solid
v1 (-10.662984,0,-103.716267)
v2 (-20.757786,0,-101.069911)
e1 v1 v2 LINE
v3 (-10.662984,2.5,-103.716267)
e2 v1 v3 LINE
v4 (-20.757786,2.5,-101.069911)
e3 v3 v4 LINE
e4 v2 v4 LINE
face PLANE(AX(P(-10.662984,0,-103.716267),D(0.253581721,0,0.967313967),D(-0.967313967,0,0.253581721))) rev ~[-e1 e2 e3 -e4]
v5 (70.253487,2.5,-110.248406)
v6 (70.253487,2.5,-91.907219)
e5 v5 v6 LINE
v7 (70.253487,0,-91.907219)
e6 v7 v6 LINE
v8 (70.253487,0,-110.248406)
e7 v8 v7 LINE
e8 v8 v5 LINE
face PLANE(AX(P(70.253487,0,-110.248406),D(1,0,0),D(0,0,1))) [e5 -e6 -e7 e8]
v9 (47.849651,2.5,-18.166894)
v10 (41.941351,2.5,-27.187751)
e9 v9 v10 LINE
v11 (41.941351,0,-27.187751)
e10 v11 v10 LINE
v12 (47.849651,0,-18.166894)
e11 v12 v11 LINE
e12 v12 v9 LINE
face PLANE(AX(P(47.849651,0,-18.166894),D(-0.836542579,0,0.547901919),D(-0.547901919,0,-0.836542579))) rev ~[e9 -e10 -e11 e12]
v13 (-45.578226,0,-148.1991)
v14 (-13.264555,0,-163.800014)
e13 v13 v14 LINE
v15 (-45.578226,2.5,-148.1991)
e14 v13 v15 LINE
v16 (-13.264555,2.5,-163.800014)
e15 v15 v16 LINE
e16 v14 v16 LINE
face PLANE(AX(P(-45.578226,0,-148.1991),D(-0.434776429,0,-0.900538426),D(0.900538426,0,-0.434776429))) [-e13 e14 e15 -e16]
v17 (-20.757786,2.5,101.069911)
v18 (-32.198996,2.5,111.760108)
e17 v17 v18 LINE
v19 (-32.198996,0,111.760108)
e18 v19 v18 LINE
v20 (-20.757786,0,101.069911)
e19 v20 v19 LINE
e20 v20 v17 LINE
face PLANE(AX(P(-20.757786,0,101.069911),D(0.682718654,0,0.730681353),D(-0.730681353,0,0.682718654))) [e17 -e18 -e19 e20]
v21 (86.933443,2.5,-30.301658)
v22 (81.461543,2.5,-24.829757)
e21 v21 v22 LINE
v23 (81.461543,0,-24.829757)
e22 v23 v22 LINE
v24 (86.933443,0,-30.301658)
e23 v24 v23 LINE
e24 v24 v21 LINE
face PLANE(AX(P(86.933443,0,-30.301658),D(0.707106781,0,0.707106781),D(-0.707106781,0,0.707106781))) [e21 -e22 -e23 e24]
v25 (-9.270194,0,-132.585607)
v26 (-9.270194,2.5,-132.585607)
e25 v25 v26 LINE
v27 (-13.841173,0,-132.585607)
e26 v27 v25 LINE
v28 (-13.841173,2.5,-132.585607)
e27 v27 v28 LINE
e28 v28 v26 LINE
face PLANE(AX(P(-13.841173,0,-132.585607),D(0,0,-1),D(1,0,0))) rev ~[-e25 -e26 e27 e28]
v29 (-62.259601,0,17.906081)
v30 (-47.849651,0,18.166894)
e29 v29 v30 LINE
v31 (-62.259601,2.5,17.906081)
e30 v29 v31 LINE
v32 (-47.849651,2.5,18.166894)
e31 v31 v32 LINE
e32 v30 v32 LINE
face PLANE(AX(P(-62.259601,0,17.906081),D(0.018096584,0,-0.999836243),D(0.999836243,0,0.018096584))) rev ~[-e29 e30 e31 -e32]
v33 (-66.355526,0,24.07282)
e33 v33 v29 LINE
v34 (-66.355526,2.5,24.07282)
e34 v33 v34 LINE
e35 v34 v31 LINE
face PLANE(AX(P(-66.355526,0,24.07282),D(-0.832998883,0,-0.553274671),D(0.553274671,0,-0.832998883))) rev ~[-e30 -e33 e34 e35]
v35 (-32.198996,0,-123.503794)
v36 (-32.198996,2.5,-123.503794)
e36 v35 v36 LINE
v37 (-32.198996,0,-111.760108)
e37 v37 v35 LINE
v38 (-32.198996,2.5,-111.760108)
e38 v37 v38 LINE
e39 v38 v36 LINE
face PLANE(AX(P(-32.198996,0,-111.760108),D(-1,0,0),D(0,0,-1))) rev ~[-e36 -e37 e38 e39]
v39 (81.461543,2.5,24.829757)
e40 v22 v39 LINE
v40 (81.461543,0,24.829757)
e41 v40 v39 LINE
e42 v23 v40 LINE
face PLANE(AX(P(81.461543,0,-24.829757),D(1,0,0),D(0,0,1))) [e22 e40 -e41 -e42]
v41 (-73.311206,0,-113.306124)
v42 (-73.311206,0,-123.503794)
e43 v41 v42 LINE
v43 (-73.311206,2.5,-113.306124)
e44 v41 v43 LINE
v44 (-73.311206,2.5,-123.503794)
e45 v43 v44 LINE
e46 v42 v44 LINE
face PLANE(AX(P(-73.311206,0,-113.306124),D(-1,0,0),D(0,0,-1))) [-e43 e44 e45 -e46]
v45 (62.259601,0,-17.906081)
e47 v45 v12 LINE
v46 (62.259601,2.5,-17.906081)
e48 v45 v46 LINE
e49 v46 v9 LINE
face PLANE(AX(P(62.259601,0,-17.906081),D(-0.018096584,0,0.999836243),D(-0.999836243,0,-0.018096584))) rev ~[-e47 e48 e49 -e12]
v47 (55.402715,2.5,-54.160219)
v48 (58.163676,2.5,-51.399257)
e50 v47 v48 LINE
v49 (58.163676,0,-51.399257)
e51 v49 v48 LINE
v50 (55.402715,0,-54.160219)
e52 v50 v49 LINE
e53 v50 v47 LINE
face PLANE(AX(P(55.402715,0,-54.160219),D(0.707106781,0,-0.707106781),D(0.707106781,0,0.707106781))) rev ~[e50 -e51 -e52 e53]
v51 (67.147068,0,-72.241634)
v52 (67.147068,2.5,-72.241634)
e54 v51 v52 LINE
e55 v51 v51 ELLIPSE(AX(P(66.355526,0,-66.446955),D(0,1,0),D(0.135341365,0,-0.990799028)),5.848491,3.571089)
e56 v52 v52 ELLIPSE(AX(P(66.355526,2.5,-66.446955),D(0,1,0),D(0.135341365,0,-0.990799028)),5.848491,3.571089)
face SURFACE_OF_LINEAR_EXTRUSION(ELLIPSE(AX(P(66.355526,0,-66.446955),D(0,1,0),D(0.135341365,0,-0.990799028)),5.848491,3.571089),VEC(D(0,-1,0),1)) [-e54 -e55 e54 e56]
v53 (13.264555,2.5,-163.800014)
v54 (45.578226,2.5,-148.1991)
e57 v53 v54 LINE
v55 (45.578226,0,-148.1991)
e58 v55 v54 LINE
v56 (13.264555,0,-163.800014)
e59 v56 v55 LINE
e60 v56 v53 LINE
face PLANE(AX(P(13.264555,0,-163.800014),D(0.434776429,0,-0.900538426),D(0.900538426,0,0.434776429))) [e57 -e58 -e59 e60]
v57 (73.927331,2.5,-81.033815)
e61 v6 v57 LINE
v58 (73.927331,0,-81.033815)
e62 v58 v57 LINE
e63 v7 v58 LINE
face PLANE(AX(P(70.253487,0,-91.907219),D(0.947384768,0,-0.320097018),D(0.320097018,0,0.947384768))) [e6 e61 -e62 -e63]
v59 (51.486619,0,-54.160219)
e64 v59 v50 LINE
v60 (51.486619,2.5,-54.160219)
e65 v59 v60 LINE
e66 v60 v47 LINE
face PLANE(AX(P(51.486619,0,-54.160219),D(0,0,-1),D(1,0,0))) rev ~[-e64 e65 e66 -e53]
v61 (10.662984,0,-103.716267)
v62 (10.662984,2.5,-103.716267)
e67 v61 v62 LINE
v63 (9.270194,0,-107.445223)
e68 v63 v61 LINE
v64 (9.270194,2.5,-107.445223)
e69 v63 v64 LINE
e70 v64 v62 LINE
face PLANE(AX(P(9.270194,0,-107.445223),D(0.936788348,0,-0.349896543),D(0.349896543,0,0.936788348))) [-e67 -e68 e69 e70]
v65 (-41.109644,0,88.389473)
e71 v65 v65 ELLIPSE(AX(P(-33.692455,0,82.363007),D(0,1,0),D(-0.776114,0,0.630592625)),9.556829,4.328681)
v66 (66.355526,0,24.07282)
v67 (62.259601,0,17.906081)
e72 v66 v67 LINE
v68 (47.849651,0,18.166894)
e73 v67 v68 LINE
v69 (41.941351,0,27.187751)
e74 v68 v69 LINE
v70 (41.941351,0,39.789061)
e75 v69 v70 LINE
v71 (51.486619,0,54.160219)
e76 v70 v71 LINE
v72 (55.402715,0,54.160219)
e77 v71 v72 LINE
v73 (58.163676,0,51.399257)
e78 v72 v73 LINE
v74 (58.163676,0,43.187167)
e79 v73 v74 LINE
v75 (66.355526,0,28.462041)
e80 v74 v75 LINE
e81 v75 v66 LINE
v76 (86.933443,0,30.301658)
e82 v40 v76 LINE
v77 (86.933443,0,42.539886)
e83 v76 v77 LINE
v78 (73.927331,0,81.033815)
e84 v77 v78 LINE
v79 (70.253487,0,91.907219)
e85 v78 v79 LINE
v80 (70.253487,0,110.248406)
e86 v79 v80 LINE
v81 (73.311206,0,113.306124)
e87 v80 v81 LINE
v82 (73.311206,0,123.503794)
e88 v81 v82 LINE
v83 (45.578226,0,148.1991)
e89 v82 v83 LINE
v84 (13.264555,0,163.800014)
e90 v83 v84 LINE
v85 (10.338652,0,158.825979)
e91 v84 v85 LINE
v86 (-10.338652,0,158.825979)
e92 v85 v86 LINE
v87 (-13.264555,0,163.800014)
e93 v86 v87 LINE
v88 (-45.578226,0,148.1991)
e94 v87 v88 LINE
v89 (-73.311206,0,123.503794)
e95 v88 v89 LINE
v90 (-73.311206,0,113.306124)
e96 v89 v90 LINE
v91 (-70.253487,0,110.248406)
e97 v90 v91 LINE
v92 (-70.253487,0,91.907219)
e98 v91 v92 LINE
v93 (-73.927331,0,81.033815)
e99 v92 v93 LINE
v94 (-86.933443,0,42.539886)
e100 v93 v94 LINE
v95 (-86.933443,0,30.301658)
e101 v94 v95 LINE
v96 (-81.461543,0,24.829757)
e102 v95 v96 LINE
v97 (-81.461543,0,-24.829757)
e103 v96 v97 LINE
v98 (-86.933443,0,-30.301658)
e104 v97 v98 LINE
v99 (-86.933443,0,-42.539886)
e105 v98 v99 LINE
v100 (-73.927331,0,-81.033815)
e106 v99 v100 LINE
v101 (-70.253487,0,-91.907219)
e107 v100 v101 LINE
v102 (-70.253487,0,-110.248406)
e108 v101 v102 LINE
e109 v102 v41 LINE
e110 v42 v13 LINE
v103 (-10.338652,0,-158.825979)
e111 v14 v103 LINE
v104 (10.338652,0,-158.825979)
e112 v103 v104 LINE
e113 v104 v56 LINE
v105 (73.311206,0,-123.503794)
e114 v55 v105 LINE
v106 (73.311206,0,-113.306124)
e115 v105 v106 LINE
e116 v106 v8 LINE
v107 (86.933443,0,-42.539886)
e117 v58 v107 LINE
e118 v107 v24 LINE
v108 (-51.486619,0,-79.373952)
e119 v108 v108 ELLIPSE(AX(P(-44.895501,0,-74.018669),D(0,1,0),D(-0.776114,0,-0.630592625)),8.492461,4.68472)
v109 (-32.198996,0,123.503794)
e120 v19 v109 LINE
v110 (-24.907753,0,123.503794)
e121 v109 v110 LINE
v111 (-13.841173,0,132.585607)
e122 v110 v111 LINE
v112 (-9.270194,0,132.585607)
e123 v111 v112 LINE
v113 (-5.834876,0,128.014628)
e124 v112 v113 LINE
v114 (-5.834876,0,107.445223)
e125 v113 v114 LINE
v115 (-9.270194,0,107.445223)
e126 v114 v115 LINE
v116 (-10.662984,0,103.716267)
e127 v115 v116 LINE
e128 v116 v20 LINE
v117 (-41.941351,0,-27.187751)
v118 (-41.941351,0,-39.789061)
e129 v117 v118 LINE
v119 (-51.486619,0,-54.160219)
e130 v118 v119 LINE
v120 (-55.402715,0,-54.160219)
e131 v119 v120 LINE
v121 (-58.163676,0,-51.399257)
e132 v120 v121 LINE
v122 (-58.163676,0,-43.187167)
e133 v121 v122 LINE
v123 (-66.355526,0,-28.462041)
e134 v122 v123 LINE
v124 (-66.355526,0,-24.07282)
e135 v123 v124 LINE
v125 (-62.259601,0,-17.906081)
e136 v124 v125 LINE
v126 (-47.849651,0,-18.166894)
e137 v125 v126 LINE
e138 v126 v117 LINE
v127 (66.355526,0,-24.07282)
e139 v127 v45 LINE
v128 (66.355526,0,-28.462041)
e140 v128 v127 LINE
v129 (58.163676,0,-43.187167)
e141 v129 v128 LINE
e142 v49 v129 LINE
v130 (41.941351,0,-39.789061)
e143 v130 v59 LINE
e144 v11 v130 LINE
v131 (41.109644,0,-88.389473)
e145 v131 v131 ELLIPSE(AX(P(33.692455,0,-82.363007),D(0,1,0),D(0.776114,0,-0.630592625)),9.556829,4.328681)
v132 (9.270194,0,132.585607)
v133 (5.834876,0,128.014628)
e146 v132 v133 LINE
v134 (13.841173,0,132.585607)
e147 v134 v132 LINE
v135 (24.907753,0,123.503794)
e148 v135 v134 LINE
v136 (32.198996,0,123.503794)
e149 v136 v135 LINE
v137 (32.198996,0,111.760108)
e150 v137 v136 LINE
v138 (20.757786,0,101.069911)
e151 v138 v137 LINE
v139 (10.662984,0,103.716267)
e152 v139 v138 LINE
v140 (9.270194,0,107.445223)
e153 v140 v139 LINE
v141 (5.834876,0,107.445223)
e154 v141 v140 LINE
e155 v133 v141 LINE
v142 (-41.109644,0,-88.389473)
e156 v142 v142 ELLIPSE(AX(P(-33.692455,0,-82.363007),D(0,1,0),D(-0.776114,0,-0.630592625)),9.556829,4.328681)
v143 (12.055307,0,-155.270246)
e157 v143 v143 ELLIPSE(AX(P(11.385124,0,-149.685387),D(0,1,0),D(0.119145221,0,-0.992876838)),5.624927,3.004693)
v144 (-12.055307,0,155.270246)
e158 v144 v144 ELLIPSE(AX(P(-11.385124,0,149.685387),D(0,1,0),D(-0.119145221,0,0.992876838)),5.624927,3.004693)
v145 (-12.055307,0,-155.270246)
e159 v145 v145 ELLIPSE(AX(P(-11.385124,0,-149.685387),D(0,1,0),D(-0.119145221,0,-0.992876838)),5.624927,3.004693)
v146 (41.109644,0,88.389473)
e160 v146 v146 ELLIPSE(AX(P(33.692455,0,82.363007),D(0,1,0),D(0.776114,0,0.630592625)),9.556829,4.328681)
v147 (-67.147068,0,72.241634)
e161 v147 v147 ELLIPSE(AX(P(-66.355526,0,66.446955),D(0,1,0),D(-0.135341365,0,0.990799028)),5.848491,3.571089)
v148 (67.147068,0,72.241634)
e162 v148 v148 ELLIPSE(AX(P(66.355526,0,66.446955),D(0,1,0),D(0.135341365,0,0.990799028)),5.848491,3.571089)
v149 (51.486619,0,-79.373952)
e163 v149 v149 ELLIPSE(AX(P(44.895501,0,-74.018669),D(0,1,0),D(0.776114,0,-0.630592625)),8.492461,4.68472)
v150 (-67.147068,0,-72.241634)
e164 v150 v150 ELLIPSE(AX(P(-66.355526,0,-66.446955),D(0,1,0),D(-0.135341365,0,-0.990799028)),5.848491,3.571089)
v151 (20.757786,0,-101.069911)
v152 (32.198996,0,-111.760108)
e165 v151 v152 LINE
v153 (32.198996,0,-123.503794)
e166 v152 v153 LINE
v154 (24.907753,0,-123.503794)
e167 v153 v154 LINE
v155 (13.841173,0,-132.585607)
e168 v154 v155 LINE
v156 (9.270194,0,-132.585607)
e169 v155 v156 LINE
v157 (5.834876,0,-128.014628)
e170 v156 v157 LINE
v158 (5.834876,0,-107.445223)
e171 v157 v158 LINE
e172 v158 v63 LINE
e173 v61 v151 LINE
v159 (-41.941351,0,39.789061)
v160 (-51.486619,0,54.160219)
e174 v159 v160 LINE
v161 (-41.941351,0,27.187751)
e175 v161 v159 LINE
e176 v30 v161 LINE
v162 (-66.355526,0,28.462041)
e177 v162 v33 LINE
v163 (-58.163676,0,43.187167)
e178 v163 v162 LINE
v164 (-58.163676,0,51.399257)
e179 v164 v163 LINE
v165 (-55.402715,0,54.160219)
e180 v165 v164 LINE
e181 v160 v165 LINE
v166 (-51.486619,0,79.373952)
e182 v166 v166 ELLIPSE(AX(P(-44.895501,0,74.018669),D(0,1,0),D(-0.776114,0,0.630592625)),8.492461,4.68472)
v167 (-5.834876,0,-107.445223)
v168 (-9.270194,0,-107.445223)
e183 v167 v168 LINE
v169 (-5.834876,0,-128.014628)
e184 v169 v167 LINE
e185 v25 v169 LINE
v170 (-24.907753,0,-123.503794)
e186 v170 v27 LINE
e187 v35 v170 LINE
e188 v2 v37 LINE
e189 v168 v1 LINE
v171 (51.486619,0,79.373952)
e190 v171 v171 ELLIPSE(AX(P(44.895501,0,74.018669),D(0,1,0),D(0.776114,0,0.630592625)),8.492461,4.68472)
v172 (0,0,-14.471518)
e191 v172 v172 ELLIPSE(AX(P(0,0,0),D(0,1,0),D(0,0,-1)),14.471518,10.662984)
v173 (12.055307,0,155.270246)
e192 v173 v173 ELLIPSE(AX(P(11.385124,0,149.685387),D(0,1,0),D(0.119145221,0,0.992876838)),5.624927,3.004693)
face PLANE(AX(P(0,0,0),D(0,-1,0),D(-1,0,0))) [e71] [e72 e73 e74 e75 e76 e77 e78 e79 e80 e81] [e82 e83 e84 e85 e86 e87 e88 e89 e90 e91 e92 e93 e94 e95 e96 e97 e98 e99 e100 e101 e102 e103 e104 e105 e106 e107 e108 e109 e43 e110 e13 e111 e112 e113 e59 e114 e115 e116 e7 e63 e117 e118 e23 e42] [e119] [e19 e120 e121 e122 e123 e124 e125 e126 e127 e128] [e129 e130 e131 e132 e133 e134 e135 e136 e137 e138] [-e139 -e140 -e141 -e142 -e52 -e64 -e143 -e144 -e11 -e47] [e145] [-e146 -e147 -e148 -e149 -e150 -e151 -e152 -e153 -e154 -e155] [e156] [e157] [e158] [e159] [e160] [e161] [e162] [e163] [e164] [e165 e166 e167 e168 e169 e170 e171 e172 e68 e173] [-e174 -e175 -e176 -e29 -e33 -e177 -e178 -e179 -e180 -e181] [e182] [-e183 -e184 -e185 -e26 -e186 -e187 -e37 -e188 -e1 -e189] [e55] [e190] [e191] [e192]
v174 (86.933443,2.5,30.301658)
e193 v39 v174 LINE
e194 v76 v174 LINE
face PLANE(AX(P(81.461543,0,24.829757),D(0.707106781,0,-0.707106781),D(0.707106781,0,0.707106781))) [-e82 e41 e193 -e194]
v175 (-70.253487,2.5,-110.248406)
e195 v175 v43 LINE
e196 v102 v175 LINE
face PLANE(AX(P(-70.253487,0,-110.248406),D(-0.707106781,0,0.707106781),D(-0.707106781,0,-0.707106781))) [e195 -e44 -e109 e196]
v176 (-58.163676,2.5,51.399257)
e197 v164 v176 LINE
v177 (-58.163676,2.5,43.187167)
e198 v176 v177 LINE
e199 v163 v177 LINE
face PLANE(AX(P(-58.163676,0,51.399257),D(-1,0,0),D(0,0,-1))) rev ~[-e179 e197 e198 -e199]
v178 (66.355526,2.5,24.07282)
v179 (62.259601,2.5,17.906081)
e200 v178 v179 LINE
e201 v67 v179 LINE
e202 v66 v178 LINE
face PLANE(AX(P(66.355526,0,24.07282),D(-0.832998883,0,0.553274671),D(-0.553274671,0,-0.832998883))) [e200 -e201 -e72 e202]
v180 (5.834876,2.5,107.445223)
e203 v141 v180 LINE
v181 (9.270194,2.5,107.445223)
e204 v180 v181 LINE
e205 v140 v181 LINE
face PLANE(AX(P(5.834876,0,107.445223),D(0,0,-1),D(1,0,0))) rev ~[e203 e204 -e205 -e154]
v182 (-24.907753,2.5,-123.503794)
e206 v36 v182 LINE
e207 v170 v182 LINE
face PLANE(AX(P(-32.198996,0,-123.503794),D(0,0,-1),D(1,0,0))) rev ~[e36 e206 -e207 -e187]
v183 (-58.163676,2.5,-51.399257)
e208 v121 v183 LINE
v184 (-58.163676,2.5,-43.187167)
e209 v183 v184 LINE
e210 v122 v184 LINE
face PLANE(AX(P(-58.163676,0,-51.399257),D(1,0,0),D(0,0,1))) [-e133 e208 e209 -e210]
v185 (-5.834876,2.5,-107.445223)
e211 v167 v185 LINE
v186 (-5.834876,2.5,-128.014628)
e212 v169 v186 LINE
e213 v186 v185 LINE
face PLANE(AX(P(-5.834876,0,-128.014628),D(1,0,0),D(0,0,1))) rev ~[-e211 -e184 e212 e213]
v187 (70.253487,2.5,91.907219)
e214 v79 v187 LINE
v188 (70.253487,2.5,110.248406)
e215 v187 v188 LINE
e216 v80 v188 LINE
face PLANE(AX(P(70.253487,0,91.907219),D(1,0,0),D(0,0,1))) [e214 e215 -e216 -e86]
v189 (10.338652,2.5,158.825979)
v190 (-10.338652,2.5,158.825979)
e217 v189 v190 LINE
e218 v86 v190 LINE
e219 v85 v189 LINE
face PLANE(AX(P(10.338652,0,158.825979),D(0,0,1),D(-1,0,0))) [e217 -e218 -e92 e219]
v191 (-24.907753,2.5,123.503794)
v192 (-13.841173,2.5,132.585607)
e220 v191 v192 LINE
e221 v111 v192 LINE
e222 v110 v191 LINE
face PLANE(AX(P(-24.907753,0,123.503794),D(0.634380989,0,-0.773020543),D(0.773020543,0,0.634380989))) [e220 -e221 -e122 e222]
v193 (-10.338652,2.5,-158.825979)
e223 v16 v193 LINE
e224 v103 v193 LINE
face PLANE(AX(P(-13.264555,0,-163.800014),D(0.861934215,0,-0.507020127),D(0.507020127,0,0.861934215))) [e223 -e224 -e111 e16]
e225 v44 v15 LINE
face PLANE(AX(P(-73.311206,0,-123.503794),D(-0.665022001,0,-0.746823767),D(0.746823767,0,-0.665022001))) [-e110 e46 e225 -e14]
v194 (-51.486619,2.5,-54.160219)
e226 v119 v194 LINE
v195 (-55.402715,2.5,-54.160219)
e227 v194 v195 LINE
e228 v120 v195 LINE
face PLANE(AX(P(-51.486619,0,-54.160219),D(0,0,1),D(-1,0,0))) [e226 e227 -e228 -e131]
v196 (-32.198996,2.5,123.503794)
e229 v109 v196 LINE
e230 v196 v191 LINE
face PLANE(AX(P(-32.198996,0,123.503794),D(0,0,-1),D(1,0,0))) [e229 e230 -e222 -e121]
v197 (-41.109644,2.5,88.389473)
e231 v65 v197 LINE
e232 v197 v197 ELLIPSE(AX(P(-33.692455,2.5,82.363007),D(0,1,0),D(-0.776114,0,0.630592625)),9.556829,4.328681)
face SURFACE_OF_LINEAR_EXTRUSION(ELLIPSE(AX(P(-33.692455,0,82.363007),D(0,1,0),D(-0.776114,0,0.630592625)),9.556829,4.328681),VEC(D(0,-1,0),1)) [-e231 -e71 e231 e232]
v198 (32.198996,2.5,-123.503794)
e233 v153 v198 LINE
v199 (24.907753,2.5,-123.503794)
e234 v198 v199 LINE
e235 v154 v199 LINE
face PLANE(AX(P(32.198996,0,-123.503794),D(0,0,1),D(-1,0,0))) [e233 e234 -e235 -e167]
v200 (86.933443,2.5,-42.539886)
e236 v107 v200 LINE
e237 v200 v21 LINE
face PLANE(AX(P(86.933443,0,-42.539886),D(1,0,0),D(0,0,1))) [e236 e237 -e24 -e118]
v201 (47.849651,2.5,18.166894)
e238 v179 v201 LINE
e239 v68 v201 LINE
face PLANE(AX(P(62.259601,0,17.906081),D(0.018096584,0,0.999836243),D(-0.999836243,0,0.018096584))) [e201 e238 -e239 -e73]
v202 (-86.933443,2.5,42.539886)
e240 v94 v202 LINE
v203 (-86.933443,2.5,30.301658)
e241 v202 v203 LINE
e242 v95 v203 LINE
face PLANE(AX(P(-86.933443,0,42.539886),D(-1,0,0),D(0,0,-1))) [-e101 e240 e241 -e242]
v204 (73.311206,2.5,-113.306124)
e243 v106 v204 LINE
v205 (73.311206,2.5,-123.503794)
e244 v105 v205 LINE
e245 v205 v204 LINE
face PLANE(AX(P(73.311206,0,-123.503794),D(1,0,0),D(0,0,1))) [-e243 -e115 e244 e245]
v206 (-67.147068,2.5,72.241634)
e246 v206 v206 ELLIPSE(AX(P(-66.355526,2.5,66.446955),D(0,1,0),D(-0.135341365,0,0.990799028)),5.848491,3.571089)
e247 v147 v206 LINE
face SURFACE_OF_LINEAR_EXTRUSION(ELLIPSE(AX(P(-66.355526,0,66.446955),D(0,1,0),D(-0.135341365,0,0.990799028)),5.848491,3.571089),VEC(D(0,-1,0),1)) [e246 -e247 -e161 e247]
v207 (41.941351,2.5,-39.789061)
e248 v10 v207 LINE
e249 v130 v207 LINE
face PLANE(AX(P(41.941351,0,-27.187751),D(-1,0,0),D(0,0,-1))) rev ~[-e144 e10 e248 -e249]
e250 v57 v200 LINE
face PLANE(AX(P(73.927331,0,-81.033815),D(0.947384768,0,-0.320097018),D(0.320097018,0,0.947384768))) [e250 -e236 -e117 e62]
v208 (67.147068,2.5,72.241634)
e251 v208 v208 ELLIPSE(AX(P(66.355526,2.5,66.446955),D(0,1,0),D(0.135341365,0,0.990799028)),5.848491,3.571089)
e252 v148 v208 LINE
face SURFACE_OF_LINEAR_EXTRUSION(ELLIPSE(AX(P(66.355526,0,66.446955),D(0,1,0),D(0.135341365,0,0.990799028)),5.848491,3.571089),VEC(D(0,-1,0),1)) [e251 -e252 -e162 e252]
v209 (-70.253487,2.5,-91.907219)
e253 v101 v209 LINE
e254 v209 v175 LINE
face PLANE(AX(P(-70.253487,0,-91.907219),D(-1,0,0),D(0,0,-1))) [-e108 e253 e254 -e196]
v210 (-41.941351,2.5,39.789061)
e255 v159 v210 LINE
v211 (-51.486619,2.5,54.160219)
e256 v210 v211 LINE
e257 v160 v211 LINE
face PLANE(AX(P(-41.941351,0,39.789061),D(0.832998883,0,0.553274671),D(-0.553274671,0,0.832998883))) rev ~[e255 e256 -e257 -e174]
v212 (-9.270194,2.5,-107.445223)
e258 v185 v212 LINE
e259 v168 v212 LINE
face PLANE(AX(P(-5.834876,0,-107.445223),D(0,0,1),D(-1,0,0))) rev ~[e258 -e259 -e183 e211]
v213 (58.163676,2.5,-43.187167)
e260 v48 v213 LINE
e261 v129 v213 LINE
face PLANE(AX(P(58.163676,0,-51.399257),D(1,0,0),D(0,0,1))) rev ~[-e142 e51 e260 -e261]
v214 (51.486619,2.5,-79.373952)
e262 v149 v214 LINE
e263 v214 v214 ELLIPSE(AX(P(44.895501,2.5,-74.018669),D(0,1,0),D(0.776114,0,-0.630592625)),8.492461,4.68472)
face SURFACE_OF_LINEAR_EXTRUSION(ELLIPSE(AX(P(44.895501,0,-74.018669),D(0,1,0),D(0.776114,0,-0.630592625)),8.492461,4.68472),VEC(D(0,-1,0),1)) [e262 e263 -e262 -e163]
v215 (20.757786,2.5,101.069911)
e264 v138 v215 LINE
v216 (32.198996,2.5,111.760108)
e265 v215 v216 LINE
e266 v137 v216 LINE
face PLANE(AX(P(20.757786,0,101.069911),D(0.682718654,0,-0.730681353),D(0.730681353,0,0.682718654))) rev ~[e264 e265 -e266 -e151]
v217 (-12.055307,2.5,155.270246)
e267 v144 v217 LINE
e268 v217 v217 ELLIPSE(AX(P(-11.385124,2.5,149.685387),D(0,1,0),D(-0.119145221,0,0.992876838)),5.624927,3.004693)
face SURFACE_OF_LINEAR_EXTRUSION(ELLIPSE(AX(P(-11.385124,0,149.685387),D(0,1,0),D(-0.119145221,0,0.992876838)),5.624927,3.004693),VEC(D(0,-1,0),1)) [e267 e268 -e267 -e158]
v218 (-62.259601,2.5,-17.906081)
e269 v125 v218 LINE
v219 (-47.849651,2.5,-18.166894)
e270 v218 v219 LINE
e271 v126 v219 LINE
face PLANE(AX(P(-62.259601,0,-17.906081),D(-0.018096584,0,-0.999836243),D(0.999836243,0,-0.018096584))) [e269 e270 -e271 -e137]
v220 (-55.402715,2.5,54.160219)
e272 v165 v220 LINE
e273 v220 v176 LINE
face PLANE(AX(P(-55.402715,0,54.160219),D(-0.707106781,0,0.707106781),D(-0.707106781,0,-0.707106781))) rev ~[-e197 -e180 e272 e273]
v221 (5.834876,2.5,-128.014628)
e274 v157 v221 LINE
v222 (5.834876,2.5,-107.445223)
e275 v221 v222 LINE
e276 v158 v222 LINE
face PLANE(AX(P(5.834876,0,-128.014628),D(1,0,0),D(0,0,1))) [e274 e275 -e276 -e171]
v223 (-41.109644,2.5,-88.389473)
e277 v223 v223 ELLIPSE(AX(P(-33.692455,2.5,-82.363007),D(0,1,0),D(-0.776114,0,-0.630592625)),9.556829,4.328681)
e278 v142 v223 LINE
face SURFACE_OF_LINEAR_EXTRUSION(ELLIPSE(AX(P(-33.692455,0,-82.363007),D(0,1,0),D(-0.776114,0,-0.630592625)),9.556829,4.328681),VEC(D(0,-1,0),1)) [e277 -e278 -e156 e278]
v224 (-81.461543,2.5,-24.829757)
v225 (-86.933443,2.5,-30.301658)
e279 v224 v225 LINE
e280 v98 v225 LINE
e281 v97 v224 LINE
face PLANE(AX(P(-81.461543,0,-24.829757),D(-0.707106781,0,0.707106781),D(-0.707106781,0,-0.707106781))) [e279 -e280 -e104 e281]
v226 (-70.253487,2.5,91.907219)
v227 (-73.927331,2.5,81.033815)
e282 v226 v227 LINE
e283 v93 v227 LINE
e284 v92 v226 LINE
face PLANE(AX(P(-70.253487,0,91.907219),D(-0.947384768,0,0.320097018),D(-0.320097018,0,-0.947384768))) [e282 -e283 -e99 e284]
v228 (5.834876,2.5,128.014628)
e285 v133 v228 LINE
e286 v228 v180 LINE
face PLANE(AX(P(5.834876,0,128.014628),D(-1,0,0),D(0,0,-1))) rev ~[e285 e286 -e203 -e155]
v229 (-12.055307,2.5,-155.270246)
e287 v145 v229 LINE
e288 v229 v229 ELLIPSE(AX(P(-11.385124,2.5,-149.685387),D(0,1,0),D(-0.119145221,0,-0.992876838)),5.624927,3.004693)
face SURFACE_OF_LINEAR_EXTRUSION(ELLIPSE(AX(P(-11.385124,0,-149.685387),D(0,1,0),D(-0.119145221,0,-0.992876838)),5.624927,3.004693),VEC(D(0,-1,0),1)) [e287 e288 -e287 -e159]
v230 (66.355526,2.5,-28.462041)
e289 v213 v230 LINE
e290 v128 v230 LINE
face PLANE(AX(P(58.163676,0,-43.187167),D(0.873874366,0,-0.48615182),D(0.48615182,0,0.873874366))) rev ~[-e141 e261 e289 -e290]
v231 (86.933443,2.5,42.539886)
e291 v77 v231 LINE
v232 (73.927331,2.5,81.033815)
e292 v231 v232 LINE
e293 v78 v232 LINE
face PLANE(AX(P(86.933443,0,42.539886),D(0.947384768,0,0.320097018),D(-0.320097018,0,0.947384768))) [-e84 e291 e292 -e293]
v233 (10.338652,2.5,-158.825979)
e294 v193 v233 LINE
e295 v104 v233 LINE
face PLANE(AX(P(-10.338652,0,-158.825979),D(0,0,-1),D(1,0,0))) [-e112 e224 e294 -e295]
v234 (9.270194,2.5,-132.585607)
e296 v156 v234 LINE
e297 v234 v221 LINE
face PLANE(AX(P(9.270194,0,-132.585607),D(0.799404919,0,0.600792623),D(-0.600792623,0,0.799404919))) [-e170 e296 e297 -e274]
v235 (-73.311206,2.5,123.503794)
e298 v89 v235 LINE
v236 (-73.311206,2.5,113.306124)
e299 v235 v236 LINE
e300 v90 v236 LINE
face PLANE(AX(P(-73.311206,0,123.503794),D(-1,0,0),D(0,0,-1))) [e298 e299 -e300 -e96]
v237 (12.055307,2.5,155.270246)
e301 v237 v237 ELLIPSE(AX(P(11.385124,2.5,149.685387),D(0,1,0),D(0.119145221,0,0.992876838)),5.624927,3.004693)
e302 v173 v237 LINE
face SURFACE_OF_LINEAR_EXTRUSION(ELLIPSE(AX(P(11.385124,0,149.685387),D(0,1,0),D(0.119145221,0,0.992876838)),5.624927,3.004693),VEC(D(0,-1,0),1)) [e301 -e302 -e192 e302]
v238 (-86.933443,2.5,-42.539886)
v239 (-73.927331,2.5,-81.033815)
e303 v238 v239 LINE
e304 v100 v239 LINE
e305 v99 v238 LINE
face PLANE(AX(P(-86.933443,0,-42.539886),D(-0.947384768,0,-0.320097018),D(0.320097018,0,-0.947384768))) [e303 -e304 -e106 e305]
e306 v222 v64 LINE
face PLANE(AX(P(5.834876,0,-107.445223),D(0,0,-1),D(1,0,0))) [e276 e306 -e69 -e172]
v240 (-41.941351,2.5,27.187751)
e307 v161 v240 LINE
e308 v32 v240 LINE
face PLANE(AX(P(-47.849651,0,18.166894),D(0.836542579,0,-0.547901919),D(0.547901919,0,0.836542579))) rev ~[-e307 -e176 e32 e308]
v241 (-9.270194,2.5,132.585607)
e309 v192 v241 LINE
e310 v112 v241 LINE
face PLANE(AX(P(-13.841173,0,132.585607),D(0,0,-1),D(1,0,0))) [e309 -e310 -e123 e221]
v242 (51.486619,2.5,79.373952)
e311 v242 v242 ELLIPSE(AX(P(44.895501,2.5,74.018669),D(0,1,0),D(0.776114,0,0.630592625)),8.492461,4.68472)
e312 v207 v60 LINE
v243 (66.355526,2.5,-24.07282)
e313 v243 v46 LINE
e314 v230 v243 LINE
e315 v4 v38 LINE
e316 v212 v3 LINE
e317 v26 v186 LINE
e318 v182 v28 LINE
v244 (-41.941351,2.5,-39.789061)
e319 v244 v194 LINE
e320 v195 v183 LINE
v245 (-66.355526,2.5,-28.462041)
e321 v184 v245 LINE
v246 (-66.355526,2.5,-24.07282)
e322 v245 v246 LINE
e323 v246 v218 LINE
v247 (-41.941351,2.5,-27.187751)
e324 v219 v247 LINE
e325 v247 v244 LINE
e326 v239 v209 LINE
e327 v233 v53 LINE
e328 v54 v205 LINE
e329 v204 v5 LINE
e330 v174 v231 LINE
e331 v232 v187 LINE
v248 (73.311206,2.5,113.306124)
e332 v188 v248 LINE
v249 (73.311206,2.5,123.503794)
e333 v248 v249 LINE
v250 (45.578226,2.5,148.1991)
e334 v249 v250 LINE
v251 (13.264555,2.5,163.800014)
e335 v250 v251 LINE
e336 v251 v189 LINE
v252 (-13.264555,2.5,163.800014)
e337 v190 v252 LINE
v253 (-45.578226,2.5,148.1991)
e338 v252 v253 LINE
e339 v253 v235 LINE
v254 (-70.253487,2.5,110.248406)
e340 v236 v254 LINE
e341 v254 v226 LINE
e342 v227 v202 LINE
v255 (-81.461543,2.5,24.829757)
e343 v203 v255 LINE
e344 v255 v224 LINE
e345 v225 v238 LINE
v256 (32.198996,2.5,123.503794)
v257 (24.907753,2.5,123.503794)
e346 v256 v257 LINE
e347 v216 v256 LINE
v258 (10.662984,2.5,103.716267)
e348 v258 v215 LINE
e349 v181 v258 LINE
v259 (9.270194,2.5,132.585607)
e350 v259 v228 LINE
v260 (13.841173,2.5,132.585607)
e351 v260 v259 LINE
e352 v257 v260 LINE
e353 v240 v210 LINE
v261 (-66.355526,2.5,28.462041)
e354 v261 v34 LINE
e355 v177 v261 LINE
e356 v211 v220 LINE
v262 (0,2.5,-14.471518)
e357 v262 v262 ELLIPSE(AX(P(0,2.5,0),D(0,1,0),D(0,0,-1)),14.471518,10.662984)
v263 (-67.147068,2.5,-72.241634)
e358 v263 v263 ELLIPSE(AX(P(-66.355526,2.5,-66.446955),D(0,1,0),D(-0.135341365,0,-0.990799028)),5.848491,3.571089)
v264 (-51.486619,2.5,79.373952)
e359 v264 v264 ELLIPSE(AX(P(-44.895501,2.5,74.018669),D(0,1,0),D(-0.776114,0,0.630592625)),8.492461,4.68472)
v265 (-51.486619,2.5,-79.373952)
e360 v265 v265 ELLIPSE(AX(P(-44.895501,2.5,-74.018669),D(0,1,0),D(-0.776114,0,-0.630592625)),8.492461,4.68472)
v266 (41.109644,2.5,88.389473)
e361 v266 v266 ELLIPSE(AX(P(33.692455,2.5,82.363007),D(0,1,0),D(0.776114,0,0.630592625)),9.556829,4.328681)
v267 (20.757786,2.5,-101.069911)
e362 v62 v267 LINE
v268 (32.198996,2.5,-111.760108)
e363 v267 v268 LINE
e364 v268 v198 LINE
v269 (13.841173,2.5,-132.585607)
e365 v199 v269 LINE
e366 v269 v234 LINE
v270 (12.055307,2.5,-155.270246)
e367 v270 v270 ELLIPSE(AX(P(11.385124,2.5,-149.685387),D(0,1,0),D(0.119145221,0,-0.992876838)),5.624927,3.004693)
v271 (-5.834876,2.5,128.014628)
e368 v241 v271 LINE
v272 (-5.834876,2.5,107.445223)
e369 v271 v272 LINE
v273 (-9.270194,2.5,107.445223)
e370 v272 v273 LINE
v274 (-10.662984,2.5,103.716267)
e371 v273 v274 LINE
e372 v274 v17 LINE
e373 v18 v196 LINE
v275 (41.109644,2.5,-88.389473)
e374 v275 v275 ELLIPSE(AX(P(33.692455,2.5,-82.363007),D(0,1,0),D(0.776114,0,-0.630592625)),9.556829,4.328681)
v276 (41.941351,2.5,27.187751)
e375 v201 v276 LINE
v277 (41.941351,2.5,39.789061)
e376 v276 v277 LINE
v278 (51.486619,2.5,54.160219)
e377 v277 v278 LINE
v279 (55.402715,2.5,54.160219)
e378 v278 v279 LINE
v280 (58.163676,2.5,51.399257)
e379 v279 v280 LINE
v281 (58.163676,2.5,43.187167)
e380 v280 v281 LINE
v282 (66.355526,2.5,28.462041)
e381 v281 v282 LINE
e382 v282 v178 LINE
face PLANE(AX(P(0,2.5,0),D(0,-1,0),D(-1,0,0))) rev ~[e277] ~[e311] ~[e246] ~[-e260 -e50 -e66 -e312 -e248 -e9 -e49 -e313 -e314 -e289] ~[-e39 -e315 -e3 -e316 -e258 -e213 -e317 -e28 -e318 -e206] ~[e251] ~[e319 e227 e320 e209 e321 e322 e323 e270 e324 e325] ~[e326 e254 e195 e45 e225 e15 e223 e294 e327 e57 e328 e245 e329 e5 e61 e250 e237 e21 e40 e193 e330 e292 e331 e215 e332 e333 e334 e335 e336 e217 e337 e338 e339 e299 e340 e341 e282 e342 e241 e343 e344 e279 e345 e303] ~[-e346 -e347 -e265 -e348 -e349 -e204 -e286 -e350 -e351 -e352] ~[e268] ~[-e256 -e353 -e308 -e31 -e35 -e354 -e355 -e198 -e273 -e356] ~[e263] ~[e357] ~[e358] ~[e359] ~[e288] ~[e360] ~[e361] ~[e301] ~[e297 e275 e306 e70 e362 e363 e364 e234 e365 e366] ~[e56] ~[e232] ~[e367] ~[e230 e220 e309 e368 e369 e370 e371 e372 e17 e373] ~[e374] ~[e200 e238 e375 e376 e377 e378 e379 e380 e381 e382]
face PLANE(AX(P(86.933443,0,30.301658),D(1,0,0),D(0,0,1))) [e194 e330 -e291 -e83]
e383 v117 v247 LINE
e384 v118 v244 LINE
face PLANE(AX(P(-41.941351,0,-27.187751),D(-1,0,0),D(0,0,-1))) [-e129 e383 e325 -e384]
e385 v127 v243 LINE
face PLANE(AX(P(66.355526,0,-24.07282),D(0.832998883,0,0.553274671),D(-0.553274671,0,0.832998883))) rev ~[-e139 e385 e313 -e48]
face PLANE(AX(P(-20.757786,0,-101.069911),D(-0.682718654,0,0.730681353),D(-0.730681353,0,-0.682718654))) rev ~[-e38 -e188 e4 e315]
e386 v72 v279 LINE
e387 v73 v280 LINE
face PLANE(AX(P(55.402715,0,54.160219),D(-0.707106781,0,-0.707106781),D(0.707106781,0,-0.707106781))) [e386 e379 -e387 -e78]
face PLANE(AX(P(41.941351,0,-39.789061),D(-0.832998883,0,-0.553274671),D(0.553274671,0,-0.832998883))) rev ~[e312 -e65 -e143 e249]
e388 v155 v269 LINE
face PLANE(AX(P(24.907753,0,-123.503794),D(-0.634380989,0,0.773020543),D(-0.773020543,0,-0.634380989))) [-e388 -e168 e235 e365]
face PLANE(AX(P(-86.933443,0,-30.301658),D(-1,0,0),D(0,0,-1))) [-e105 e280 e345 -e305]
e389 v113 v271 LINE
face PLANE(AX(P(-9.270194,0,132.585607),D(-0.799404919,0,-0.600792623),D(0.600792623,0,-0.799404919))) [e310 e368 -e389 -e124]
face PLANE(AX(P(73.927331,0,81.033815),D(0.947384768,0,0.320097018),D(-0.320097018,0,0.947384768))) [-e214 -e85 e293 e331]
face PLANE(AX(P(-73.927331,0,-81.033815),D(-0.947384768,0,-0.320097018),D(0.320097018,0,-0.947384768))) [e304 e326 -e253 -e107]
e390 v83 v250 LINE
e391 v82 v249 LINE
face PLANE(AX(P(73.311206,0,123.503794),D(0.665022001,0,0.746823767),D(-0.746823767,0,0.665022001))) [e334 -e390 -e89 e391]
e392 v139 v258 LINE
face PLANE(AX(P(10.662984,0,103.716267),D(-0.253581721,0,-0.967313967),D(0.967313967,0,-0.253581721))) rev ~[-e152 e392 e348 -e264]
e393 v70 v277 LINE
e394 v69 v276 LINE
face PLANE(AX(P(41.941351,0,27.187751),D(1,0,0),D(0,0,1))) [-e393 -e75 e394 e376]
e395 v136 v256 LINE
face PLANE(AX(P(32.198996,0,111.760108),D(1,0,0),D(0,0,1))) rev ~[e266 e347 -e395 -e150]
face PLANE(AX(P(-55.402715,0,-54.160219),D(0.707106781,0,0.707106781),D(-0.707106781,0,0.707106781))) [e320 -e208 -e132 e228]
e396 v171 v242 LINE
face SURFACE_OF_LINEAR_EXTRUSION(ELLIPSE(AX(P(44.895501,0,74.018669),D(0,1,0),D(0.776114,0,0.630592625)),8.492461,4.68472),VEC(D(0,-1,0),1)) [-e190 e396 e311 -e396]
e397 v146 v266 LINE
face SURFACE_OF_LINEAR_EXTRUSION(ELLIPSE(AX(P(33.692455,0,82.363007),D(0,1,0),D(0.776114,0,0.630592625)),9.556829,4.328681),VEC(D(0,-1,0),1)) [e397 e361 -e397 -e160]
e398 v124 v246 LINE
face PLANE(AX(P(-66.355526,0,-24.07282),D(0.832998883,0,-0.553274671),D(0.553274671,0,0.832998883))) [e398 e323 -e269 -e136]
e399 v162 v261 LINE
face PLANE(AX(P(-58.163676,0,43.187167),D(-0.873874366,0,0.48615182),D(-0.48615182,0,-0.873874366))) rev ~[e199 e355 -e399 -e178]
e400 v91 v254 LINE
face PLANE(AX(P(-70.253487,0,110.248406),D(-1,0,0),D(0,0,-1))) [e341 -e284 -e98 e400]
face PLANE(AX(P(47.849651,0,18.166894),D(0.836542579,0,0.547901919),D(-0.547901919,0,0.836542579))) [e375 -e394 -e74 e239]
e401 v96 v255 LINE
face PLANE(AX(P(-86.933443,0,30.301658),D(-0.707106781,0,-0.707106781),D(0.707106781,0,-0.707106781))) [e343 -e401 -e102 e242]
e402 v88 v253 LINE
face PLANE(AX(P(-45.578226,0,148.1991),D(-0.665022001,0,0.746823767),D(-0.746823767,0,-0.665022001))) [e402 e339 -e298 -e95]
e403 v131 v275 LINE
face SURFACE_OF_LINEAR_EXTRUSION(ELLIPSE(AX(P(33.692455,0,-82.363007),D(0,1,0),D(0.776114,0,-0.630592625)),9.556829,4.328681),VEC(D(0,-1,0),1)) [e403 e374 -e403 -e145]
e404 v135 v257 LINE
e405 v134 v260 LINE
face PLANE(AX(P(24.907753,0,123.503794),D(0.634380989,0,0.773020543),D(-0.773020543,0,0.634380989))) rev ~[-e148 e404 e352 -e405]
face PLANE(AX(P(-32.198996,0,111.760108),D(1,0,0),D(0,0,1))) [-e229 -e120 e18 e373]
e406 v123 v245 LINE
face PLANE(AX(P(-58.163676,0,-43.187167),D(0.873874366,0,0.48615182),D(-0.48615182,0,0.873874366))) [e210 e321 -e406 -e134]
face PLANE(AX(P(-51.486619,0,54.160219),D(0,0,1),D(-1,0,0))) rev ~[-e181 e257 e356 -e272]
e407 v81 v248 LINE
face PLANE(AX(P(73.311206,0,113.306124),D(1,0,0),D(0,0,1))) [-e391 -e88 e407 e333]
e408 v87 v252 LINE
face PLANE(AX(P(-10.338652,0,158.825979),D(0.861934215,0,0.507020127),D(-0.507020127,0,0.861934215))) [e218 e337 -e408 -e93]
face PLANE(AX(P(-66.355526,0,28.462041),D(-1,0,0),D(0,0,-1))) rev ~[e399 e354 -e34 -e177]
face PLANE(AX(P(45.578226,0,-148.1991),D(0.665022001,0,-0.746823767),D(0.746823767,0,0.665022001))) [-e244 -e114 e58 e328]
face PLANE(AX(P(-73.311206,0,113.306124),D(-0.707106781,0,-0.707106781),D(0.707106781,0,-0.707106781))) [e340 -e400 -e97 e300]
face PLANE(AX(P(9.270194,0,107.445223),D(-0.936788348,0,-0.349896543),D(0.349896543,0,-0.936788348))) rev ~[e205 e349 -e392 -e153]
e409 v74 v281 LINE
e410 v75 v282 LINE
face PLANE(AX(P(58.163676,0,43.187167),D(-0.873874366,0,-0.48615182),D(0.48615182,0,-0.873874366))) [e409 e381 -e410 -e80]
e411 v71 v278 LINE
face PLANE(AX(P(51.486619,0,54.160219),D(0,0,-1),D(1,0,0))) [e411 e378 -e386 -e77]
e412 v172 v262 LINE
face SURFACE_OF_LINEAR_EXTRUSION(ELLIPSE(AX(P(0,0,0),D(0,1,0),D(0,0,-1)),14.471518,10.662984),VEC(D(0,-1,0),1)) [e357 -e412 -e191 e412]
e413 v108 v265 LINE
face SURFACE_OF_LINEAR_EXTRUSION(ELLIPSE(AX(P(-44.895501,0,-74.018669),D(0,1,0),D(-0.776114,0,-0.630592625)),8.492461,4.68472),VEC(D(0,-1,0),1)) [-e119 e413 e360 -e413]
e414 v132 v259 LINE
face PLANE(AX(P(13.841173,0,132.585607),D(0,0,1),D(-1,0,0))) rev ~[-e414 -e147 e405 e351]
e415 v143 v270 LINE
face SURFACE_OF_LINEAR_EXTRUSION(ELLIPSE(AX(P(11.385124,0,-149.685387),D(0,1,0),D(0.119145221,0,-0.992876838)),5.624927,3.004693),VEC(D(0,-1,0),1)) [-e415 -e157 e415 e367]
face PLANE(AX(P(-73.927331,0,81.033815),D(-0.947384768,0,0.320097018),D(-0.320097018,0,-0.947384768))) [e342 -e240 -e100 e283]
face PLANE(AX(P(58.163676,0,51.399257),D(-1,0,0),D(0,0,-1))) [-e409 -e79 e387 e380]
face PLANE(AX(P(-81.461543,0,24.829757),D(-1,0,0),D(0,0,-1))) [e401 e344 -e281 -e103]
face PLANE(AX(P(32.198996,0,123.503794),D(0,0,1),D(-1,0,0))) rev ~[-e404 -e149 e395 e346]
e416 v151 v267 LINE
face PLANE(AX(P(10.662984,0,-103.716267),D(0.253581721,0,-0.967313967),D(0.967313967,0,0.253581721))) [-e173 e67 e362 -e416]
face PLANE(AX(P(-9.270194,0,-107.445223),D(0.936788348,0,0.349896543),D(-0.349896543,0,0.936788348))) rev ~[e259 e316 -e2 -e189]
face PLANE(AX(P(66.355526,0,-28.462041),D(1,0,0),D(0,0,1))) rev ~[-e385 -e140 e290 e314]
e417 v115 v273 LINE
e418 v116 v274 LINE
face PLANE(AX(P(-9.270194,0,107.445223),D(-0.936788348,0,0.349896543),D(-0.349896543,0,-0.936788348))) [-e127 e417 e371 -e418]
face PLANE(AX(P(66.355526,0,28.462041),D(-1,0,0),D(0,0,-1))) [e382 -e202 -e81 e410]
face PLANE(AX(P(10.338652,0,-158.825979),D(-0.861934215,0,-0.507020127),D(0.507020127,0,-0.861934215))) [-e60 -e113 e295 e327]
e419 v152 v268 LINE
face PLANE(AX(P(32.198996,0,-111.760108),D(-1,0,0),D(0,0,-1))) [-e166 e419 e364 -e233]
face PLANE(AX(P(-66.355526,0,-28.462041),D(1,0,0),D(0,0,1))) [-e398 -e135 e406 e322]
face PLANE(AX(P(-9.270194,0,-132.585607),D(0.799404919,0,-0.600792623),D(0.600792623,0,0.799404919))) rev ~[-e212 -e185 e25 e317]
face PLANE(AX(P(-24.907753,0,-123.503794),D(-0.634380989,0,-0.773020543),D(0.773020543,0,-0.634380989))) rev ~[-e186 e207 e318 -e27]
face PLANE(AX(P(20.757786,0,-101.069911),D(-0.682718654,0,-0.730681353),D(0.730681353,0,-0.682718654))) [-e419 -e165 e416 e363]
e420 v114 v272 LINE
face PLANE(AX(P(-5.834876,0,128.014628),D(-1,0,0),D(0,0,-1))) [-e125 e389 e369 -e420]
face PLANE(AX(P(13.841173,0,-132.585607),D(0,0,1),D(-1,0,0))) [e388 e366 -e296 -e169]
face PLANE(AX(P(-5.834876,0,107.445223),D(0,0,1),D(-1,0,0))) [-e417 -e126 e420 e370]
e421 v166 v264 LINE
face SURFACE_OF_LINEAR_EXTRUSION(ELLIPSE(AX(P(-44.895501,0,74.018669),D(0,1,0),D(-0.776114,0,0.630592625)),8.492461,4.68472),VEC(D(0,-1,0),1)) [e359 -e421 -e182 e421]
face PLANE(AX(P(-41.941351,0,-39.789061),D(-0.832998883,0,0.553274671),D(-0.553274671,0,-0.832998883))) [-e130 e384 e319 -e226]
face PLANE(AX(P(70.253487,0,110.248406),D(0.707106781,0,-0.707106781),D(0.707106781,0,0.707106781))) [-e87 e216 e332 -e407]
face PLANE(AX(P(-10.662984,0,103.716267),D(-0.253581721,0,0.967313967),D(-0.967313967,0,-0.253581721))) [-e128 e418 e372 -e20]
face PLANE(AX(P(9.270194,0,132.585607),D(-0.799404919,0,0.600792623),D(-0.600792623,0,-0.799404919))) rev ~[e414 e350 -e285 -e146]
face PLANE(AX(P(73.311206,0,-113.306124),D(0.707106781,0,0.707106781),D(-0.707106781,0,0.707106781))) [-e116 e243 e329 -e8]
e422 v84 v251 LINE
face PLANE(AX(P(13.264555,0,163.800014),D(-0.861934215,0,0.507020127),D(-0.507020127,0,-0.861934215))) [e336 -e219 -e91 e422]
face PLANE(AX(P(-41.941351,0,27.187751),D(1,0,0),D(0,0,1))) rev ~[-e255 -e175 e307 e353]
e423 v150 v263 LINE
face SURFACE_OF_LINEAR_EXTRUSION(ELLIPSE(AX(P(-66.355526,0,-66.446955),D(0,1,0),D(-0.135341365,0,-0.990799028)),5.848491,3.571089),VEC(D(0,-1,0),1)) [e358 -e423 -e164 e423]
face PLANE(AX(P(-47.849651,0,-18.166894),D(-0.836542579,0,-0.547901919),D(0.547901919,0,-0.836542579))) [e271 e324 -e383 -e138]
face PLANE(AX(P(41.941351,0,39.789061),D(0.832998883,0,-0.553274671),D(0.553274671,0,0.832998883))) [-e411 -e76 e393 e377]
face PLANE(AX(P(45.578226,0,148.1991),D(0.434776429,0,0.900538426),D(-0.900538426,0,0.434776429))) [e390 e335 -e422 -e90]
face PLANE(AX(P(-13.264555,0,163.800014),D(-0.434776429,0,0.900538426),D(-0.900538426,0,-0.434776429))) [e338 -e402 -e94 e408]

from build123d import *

# Parameters (mm, degrees)
SKETCH3_RX          = 5.624926532
SKETCH3_RY          = 3.004692616
SKETCH3_RX_2        = 9.556829234
SKETCH3_RY_2        = 4.328681477
SKETCH3_RX_3        = 8.492460802
SKETCH3_RY_3        = 4.684720213
SKETCH3_RX_4        = 5.848490675
SKETCH3_RY_4        = 3.57108896
SKETCH3_RX_5        = 14.471517628
SKETCH3_RY_5        = 10.662983723
BOSS_EXTRUDE2_DEPTH = 2.5


with BuildPart() as part:
    # Sketch3 → Boss-Extrude2 (new body)
    with BuildSketch(Plane(origin=(0, 0, 0), x_dir=(1, 0, 0), z_dir=(0, 1, 0))):
        Polygon((10.338651831, 158.825979178), (13.264554689, 163.800014037), (45.578225854, 148.199099997), (73.311205528, 123.503793754), (73.311205528, 113.306124028), (70.253487054, 110.248405554), (70.253487054, 91.907219464), (73.927331416, 81.033815485), (86.933442966, 42.539886198), (86.933442966, 30.301657501), (81.461542635, 24.829757171), (81.461542635, -24.829757171), (86.933442966, -30.301657501), (86.933442966, -42.539886198), (73.927331416, -81.033815485), (70.253487054, -91.907219464), (70.253487054, -110.248405554), (73.311205528, -113.306124028), (73.311205528, -123.503793754), (45.578225854, -148.199099997), (13.264554689, -163.800014037), (10.338651831, -158.825979178), (-10.338651831, -158.825979178), (-13.264554689, -163.800014037), (-45.578225854, -148.199099997), (-73.311205528, -123.503793754), (-73.311205528, -113.306124028), (-70.253487054, -110.248405554), (-70.253487054, -91.907219464), (-73.927331416, -81.033815485), (-86.933442966, -42.539886198), (-86.933442966, -30.301657501), (-81.461542635, -24.829757171), (-81.461542635, 24.829757171), (-86.933442966, 30.301657501), (-86.933442966, 42.539886198), (-73.927331416, 81.033815485), (-70.253487054, 91.907219464), (-70.253487054, 110.248405554), (-73.311205528, 113.306124028), (-73.311205528, 123.503793754), (-45.578225854, 148.199099997), (-13.264554689, 163.800014037), (-10.338651831, 158.825979178), align=None)
        with Locations(Location((11.385123615, 149.68538673), (0, 0, 83.157226587))):
            Ellipse(SKETCH3_RX, SKETCH3_RY, mode=Mode.SUBTRACT)
        with Locations(Location((33.692455497, 82.363006755), (0, 0, 39.093858886))):
            Ellipse(SKETCH3_RX_2, SKETCH3_RY_2, mode=Mode.SUBTRACT)
        with Locations(Location((44.895501329, 74.018669169), (0, 0, 39.093858886))):
            Ellipse(SKETCH3_RX_3, SKETCH3_RY_3, mode=Mode.SUBTRACT)
        with Locations(Location((66.355525512, 66.446955434), (0, 0, 82.221640152))):
            Ellipse(SKETCH3_RX_4, SKETCH3_RY_4, mode=Mode.SUBTRACT)
        with Locations(Location((-66.355525512, 66.446955434), (0, 0, 97.778359848))):
            Ellipse(SKETCH3_RX_4, SKETCH3_RY_4, mode=Mode.SUBTRACT)
        with Locations(Location((-44.895501329, 74.018669169), (0, 0, 140.906141114))):
            Ellipse(SKETCH3_RX_3, SKETCH3_RY_3, mode=Mode.SUBTRACT)
        with Locations(Location((-33.692455497, 82.363006755), (0, 0, 140.906141114))):
            Ellipse(SKETCH3_RX_2, SKETCH3_RY_2, mode=Mode.SUBTRACT)
        with Locations(Location((-11.385123615, 149.68538673), (0, 0, 96.842773413))):
            Ellipse(SKETCH3_RX, SKETCH3_RY, mode=Mode.SUBTRACT)
        with Locations(Location((-11.385123615, -149.68538673), (0, 0, -96.842773413))):
            Ellipse(SKETCH3_RX, SKETCH3_RY, mode=Mode.SUBTRACT)
        with Locations(Location((-33.692455497, -82.363006755), (0, 0, -140.906141114))):
            Ellipse(SKETCH3_RX_2, SKETCH3_RY_2, mode=Mode.SUBTRACT)
        with Locations(Location((-44.895501329, -74.018669169), (0, 0, -140.906141114))):
            Ellipse(SKETCH3_RX_3, SKETCH3_RY_3, mode=Mode.SUBTRACT)
        with Locations(Location((-66.355525512, -66.446955434), (0, 0, -97.778359848))):
            Ellipse(SKETCH3_RX_4, SKETCH3_RY_4, mode=Mode.SUBTRACT)
        with Locations(Location((66.355525512, -66.446955434), (0, 0, -82.221640152))):
            Ellipse(SKETCH3_RX_4, SKETCH3_RY_4, mode=Mode.SUBTRACT)
        with Locations(Location((44.895501329, -74.018669169), (0, 0, -39.093858886))):
            Ellipse(SKETCH3_RX_3, SKETCH3_RY_3, mode=Mode.SUBTRACT)
        with Locations(Location((33.692455497, -82.363006755), (0, 0, -39.093858886))):
            Ellipse(SKETCH3_RX_2, SKETCH3_RY_2, mode=Mode.SUBTRACT)
        with Locations(Location((11.385123615, -149.68538673), (0, 0, -83.157226587))):
            Ellipse(SKETCH3_RX, SKETCH3_RY, mode=Mode.SUBTRACT)
        with Locations(Location((0, 0), (0, 0, 90))):
            Ellipse(SKETCH3_RX_5, SKETCH3_RY_5, mode=Mode.SUBTRACT)
        Polygon((5.834875923, 128.014628126), (5.834875923, 107.44522339), (9.270194242, 107.44522339), (10.662983723, 103.716266976), (20.757785776, 101.069910811), (32.198995676, 111.76010755), (32.198995676, 123.503793754), (24.907753398, 123.503793754), (13.841173073, 132.585606956), (9.270194242, 132.585606956), align=None, mode=Mode.SUBTRACT)
        Polygon((41.941351313, 39.789061162), (51.486619053, 54.160218526), (55.402714886, 54.160218526), (58.163676153, 51.399257259), (58.163676153, 43.187167337), (66.355525512, 28.46204058), (66.355525512, 24.072820104), (62.259600832, 17.90608076), (47.849651346, 18.166894335), (41.941351313, 27.187750764), align=None, mode=Mode.SUBTRACT)
        Polygon((-41.941351313, 27.187750764), (-41.941351313, 39.789061162), (-51.486619053, 54.160218526), (-55.402714886, 54.160218526), (-58.163676153, 51.399257259), (-58.163676153, 43.187167337), (-66.355525512, 28.46204058), (-66.355525512, 24.072820104), (-62.259600832, 17.90608076), (-47.849651346, 18.166894335), align=None, mode=Mode.SUBTRACT)
        Polygon((-9.270194242, 132.585606956), (-5.834875923, 128.014628126), (-5.834875923, 107.44522339), (-9.270194242, 107.44522339), (-10.662983723, 103.716266976), (-20.757785776, 101.069910811), (-32.198995676, 111.76010755), (-32.198995676, 123.503793754), (-24.907753398, 123.503793754), (-13.841173073, 132.585606956), align=None, mode=Mode.SUBTRACT)
        Polygon((-5.834875923, -128.014628126), (-5.834875923, -107.44522339), (-9.270194242, -107.44522339), (-10.662983723, -103.716266976), (-20.757785776, -101.069910811), (-32.198995676, -111.76010755), (-32.198995676, -123.503793754), (-24.907753398, -123.503793754), (-13.841173073, -132.585606956), (-9.270194242, -132.585606956), align=None, mode=Mode.SUBTRACT)
        Polygon((-41.941351313, -39.789061162), (-51.486619053, -54.160218526), (-55.402714886, -54.160218526), (-58.163676153, -51.399257259), (-58.163676153, -43.187167337), (-66.355525512, -28.46204058), (-66.355525512, -24.072820104), (-62.259600832, -17.90608076), (-47.849651346, -18.166894335), (-41.941351313, -27.187750764), align=None, mode=Mode.SUBTRACT)
        Polygon((41.941351313, -27.187750764), (41.941351313, -39.789061162), (51.486619053, -54.160218526), (55.402714886, -54.160218526), (58.163676153, -51.399257259), (58.163676153, -43.187167337), (66.355525512, -28.46204058), (66.355525512, -24.072820104), (62.259600832, -17.90608076), (47.849651346, -18.166894335), align=None, mode=Mode.SUBTRACT)
        Polygon((9.270194242, -132.585606956), (5.834875923, -128.014628126), (5.834875923, -107.44522339), (9.270194242, -107.44522339), (10.662983723, -103.716266976), (20.757785776, -101.069910811), (32.198995676, -111.76010755), (32.198995676, -123.503793754), (24.907753398, -123.503793754), (13.841173073, -132.585606956), align=None, mode=Mode.SUBTRACT)
    extrude(amount=BOSS_EXTRUDE2_DEPTH)


solid = part.part
